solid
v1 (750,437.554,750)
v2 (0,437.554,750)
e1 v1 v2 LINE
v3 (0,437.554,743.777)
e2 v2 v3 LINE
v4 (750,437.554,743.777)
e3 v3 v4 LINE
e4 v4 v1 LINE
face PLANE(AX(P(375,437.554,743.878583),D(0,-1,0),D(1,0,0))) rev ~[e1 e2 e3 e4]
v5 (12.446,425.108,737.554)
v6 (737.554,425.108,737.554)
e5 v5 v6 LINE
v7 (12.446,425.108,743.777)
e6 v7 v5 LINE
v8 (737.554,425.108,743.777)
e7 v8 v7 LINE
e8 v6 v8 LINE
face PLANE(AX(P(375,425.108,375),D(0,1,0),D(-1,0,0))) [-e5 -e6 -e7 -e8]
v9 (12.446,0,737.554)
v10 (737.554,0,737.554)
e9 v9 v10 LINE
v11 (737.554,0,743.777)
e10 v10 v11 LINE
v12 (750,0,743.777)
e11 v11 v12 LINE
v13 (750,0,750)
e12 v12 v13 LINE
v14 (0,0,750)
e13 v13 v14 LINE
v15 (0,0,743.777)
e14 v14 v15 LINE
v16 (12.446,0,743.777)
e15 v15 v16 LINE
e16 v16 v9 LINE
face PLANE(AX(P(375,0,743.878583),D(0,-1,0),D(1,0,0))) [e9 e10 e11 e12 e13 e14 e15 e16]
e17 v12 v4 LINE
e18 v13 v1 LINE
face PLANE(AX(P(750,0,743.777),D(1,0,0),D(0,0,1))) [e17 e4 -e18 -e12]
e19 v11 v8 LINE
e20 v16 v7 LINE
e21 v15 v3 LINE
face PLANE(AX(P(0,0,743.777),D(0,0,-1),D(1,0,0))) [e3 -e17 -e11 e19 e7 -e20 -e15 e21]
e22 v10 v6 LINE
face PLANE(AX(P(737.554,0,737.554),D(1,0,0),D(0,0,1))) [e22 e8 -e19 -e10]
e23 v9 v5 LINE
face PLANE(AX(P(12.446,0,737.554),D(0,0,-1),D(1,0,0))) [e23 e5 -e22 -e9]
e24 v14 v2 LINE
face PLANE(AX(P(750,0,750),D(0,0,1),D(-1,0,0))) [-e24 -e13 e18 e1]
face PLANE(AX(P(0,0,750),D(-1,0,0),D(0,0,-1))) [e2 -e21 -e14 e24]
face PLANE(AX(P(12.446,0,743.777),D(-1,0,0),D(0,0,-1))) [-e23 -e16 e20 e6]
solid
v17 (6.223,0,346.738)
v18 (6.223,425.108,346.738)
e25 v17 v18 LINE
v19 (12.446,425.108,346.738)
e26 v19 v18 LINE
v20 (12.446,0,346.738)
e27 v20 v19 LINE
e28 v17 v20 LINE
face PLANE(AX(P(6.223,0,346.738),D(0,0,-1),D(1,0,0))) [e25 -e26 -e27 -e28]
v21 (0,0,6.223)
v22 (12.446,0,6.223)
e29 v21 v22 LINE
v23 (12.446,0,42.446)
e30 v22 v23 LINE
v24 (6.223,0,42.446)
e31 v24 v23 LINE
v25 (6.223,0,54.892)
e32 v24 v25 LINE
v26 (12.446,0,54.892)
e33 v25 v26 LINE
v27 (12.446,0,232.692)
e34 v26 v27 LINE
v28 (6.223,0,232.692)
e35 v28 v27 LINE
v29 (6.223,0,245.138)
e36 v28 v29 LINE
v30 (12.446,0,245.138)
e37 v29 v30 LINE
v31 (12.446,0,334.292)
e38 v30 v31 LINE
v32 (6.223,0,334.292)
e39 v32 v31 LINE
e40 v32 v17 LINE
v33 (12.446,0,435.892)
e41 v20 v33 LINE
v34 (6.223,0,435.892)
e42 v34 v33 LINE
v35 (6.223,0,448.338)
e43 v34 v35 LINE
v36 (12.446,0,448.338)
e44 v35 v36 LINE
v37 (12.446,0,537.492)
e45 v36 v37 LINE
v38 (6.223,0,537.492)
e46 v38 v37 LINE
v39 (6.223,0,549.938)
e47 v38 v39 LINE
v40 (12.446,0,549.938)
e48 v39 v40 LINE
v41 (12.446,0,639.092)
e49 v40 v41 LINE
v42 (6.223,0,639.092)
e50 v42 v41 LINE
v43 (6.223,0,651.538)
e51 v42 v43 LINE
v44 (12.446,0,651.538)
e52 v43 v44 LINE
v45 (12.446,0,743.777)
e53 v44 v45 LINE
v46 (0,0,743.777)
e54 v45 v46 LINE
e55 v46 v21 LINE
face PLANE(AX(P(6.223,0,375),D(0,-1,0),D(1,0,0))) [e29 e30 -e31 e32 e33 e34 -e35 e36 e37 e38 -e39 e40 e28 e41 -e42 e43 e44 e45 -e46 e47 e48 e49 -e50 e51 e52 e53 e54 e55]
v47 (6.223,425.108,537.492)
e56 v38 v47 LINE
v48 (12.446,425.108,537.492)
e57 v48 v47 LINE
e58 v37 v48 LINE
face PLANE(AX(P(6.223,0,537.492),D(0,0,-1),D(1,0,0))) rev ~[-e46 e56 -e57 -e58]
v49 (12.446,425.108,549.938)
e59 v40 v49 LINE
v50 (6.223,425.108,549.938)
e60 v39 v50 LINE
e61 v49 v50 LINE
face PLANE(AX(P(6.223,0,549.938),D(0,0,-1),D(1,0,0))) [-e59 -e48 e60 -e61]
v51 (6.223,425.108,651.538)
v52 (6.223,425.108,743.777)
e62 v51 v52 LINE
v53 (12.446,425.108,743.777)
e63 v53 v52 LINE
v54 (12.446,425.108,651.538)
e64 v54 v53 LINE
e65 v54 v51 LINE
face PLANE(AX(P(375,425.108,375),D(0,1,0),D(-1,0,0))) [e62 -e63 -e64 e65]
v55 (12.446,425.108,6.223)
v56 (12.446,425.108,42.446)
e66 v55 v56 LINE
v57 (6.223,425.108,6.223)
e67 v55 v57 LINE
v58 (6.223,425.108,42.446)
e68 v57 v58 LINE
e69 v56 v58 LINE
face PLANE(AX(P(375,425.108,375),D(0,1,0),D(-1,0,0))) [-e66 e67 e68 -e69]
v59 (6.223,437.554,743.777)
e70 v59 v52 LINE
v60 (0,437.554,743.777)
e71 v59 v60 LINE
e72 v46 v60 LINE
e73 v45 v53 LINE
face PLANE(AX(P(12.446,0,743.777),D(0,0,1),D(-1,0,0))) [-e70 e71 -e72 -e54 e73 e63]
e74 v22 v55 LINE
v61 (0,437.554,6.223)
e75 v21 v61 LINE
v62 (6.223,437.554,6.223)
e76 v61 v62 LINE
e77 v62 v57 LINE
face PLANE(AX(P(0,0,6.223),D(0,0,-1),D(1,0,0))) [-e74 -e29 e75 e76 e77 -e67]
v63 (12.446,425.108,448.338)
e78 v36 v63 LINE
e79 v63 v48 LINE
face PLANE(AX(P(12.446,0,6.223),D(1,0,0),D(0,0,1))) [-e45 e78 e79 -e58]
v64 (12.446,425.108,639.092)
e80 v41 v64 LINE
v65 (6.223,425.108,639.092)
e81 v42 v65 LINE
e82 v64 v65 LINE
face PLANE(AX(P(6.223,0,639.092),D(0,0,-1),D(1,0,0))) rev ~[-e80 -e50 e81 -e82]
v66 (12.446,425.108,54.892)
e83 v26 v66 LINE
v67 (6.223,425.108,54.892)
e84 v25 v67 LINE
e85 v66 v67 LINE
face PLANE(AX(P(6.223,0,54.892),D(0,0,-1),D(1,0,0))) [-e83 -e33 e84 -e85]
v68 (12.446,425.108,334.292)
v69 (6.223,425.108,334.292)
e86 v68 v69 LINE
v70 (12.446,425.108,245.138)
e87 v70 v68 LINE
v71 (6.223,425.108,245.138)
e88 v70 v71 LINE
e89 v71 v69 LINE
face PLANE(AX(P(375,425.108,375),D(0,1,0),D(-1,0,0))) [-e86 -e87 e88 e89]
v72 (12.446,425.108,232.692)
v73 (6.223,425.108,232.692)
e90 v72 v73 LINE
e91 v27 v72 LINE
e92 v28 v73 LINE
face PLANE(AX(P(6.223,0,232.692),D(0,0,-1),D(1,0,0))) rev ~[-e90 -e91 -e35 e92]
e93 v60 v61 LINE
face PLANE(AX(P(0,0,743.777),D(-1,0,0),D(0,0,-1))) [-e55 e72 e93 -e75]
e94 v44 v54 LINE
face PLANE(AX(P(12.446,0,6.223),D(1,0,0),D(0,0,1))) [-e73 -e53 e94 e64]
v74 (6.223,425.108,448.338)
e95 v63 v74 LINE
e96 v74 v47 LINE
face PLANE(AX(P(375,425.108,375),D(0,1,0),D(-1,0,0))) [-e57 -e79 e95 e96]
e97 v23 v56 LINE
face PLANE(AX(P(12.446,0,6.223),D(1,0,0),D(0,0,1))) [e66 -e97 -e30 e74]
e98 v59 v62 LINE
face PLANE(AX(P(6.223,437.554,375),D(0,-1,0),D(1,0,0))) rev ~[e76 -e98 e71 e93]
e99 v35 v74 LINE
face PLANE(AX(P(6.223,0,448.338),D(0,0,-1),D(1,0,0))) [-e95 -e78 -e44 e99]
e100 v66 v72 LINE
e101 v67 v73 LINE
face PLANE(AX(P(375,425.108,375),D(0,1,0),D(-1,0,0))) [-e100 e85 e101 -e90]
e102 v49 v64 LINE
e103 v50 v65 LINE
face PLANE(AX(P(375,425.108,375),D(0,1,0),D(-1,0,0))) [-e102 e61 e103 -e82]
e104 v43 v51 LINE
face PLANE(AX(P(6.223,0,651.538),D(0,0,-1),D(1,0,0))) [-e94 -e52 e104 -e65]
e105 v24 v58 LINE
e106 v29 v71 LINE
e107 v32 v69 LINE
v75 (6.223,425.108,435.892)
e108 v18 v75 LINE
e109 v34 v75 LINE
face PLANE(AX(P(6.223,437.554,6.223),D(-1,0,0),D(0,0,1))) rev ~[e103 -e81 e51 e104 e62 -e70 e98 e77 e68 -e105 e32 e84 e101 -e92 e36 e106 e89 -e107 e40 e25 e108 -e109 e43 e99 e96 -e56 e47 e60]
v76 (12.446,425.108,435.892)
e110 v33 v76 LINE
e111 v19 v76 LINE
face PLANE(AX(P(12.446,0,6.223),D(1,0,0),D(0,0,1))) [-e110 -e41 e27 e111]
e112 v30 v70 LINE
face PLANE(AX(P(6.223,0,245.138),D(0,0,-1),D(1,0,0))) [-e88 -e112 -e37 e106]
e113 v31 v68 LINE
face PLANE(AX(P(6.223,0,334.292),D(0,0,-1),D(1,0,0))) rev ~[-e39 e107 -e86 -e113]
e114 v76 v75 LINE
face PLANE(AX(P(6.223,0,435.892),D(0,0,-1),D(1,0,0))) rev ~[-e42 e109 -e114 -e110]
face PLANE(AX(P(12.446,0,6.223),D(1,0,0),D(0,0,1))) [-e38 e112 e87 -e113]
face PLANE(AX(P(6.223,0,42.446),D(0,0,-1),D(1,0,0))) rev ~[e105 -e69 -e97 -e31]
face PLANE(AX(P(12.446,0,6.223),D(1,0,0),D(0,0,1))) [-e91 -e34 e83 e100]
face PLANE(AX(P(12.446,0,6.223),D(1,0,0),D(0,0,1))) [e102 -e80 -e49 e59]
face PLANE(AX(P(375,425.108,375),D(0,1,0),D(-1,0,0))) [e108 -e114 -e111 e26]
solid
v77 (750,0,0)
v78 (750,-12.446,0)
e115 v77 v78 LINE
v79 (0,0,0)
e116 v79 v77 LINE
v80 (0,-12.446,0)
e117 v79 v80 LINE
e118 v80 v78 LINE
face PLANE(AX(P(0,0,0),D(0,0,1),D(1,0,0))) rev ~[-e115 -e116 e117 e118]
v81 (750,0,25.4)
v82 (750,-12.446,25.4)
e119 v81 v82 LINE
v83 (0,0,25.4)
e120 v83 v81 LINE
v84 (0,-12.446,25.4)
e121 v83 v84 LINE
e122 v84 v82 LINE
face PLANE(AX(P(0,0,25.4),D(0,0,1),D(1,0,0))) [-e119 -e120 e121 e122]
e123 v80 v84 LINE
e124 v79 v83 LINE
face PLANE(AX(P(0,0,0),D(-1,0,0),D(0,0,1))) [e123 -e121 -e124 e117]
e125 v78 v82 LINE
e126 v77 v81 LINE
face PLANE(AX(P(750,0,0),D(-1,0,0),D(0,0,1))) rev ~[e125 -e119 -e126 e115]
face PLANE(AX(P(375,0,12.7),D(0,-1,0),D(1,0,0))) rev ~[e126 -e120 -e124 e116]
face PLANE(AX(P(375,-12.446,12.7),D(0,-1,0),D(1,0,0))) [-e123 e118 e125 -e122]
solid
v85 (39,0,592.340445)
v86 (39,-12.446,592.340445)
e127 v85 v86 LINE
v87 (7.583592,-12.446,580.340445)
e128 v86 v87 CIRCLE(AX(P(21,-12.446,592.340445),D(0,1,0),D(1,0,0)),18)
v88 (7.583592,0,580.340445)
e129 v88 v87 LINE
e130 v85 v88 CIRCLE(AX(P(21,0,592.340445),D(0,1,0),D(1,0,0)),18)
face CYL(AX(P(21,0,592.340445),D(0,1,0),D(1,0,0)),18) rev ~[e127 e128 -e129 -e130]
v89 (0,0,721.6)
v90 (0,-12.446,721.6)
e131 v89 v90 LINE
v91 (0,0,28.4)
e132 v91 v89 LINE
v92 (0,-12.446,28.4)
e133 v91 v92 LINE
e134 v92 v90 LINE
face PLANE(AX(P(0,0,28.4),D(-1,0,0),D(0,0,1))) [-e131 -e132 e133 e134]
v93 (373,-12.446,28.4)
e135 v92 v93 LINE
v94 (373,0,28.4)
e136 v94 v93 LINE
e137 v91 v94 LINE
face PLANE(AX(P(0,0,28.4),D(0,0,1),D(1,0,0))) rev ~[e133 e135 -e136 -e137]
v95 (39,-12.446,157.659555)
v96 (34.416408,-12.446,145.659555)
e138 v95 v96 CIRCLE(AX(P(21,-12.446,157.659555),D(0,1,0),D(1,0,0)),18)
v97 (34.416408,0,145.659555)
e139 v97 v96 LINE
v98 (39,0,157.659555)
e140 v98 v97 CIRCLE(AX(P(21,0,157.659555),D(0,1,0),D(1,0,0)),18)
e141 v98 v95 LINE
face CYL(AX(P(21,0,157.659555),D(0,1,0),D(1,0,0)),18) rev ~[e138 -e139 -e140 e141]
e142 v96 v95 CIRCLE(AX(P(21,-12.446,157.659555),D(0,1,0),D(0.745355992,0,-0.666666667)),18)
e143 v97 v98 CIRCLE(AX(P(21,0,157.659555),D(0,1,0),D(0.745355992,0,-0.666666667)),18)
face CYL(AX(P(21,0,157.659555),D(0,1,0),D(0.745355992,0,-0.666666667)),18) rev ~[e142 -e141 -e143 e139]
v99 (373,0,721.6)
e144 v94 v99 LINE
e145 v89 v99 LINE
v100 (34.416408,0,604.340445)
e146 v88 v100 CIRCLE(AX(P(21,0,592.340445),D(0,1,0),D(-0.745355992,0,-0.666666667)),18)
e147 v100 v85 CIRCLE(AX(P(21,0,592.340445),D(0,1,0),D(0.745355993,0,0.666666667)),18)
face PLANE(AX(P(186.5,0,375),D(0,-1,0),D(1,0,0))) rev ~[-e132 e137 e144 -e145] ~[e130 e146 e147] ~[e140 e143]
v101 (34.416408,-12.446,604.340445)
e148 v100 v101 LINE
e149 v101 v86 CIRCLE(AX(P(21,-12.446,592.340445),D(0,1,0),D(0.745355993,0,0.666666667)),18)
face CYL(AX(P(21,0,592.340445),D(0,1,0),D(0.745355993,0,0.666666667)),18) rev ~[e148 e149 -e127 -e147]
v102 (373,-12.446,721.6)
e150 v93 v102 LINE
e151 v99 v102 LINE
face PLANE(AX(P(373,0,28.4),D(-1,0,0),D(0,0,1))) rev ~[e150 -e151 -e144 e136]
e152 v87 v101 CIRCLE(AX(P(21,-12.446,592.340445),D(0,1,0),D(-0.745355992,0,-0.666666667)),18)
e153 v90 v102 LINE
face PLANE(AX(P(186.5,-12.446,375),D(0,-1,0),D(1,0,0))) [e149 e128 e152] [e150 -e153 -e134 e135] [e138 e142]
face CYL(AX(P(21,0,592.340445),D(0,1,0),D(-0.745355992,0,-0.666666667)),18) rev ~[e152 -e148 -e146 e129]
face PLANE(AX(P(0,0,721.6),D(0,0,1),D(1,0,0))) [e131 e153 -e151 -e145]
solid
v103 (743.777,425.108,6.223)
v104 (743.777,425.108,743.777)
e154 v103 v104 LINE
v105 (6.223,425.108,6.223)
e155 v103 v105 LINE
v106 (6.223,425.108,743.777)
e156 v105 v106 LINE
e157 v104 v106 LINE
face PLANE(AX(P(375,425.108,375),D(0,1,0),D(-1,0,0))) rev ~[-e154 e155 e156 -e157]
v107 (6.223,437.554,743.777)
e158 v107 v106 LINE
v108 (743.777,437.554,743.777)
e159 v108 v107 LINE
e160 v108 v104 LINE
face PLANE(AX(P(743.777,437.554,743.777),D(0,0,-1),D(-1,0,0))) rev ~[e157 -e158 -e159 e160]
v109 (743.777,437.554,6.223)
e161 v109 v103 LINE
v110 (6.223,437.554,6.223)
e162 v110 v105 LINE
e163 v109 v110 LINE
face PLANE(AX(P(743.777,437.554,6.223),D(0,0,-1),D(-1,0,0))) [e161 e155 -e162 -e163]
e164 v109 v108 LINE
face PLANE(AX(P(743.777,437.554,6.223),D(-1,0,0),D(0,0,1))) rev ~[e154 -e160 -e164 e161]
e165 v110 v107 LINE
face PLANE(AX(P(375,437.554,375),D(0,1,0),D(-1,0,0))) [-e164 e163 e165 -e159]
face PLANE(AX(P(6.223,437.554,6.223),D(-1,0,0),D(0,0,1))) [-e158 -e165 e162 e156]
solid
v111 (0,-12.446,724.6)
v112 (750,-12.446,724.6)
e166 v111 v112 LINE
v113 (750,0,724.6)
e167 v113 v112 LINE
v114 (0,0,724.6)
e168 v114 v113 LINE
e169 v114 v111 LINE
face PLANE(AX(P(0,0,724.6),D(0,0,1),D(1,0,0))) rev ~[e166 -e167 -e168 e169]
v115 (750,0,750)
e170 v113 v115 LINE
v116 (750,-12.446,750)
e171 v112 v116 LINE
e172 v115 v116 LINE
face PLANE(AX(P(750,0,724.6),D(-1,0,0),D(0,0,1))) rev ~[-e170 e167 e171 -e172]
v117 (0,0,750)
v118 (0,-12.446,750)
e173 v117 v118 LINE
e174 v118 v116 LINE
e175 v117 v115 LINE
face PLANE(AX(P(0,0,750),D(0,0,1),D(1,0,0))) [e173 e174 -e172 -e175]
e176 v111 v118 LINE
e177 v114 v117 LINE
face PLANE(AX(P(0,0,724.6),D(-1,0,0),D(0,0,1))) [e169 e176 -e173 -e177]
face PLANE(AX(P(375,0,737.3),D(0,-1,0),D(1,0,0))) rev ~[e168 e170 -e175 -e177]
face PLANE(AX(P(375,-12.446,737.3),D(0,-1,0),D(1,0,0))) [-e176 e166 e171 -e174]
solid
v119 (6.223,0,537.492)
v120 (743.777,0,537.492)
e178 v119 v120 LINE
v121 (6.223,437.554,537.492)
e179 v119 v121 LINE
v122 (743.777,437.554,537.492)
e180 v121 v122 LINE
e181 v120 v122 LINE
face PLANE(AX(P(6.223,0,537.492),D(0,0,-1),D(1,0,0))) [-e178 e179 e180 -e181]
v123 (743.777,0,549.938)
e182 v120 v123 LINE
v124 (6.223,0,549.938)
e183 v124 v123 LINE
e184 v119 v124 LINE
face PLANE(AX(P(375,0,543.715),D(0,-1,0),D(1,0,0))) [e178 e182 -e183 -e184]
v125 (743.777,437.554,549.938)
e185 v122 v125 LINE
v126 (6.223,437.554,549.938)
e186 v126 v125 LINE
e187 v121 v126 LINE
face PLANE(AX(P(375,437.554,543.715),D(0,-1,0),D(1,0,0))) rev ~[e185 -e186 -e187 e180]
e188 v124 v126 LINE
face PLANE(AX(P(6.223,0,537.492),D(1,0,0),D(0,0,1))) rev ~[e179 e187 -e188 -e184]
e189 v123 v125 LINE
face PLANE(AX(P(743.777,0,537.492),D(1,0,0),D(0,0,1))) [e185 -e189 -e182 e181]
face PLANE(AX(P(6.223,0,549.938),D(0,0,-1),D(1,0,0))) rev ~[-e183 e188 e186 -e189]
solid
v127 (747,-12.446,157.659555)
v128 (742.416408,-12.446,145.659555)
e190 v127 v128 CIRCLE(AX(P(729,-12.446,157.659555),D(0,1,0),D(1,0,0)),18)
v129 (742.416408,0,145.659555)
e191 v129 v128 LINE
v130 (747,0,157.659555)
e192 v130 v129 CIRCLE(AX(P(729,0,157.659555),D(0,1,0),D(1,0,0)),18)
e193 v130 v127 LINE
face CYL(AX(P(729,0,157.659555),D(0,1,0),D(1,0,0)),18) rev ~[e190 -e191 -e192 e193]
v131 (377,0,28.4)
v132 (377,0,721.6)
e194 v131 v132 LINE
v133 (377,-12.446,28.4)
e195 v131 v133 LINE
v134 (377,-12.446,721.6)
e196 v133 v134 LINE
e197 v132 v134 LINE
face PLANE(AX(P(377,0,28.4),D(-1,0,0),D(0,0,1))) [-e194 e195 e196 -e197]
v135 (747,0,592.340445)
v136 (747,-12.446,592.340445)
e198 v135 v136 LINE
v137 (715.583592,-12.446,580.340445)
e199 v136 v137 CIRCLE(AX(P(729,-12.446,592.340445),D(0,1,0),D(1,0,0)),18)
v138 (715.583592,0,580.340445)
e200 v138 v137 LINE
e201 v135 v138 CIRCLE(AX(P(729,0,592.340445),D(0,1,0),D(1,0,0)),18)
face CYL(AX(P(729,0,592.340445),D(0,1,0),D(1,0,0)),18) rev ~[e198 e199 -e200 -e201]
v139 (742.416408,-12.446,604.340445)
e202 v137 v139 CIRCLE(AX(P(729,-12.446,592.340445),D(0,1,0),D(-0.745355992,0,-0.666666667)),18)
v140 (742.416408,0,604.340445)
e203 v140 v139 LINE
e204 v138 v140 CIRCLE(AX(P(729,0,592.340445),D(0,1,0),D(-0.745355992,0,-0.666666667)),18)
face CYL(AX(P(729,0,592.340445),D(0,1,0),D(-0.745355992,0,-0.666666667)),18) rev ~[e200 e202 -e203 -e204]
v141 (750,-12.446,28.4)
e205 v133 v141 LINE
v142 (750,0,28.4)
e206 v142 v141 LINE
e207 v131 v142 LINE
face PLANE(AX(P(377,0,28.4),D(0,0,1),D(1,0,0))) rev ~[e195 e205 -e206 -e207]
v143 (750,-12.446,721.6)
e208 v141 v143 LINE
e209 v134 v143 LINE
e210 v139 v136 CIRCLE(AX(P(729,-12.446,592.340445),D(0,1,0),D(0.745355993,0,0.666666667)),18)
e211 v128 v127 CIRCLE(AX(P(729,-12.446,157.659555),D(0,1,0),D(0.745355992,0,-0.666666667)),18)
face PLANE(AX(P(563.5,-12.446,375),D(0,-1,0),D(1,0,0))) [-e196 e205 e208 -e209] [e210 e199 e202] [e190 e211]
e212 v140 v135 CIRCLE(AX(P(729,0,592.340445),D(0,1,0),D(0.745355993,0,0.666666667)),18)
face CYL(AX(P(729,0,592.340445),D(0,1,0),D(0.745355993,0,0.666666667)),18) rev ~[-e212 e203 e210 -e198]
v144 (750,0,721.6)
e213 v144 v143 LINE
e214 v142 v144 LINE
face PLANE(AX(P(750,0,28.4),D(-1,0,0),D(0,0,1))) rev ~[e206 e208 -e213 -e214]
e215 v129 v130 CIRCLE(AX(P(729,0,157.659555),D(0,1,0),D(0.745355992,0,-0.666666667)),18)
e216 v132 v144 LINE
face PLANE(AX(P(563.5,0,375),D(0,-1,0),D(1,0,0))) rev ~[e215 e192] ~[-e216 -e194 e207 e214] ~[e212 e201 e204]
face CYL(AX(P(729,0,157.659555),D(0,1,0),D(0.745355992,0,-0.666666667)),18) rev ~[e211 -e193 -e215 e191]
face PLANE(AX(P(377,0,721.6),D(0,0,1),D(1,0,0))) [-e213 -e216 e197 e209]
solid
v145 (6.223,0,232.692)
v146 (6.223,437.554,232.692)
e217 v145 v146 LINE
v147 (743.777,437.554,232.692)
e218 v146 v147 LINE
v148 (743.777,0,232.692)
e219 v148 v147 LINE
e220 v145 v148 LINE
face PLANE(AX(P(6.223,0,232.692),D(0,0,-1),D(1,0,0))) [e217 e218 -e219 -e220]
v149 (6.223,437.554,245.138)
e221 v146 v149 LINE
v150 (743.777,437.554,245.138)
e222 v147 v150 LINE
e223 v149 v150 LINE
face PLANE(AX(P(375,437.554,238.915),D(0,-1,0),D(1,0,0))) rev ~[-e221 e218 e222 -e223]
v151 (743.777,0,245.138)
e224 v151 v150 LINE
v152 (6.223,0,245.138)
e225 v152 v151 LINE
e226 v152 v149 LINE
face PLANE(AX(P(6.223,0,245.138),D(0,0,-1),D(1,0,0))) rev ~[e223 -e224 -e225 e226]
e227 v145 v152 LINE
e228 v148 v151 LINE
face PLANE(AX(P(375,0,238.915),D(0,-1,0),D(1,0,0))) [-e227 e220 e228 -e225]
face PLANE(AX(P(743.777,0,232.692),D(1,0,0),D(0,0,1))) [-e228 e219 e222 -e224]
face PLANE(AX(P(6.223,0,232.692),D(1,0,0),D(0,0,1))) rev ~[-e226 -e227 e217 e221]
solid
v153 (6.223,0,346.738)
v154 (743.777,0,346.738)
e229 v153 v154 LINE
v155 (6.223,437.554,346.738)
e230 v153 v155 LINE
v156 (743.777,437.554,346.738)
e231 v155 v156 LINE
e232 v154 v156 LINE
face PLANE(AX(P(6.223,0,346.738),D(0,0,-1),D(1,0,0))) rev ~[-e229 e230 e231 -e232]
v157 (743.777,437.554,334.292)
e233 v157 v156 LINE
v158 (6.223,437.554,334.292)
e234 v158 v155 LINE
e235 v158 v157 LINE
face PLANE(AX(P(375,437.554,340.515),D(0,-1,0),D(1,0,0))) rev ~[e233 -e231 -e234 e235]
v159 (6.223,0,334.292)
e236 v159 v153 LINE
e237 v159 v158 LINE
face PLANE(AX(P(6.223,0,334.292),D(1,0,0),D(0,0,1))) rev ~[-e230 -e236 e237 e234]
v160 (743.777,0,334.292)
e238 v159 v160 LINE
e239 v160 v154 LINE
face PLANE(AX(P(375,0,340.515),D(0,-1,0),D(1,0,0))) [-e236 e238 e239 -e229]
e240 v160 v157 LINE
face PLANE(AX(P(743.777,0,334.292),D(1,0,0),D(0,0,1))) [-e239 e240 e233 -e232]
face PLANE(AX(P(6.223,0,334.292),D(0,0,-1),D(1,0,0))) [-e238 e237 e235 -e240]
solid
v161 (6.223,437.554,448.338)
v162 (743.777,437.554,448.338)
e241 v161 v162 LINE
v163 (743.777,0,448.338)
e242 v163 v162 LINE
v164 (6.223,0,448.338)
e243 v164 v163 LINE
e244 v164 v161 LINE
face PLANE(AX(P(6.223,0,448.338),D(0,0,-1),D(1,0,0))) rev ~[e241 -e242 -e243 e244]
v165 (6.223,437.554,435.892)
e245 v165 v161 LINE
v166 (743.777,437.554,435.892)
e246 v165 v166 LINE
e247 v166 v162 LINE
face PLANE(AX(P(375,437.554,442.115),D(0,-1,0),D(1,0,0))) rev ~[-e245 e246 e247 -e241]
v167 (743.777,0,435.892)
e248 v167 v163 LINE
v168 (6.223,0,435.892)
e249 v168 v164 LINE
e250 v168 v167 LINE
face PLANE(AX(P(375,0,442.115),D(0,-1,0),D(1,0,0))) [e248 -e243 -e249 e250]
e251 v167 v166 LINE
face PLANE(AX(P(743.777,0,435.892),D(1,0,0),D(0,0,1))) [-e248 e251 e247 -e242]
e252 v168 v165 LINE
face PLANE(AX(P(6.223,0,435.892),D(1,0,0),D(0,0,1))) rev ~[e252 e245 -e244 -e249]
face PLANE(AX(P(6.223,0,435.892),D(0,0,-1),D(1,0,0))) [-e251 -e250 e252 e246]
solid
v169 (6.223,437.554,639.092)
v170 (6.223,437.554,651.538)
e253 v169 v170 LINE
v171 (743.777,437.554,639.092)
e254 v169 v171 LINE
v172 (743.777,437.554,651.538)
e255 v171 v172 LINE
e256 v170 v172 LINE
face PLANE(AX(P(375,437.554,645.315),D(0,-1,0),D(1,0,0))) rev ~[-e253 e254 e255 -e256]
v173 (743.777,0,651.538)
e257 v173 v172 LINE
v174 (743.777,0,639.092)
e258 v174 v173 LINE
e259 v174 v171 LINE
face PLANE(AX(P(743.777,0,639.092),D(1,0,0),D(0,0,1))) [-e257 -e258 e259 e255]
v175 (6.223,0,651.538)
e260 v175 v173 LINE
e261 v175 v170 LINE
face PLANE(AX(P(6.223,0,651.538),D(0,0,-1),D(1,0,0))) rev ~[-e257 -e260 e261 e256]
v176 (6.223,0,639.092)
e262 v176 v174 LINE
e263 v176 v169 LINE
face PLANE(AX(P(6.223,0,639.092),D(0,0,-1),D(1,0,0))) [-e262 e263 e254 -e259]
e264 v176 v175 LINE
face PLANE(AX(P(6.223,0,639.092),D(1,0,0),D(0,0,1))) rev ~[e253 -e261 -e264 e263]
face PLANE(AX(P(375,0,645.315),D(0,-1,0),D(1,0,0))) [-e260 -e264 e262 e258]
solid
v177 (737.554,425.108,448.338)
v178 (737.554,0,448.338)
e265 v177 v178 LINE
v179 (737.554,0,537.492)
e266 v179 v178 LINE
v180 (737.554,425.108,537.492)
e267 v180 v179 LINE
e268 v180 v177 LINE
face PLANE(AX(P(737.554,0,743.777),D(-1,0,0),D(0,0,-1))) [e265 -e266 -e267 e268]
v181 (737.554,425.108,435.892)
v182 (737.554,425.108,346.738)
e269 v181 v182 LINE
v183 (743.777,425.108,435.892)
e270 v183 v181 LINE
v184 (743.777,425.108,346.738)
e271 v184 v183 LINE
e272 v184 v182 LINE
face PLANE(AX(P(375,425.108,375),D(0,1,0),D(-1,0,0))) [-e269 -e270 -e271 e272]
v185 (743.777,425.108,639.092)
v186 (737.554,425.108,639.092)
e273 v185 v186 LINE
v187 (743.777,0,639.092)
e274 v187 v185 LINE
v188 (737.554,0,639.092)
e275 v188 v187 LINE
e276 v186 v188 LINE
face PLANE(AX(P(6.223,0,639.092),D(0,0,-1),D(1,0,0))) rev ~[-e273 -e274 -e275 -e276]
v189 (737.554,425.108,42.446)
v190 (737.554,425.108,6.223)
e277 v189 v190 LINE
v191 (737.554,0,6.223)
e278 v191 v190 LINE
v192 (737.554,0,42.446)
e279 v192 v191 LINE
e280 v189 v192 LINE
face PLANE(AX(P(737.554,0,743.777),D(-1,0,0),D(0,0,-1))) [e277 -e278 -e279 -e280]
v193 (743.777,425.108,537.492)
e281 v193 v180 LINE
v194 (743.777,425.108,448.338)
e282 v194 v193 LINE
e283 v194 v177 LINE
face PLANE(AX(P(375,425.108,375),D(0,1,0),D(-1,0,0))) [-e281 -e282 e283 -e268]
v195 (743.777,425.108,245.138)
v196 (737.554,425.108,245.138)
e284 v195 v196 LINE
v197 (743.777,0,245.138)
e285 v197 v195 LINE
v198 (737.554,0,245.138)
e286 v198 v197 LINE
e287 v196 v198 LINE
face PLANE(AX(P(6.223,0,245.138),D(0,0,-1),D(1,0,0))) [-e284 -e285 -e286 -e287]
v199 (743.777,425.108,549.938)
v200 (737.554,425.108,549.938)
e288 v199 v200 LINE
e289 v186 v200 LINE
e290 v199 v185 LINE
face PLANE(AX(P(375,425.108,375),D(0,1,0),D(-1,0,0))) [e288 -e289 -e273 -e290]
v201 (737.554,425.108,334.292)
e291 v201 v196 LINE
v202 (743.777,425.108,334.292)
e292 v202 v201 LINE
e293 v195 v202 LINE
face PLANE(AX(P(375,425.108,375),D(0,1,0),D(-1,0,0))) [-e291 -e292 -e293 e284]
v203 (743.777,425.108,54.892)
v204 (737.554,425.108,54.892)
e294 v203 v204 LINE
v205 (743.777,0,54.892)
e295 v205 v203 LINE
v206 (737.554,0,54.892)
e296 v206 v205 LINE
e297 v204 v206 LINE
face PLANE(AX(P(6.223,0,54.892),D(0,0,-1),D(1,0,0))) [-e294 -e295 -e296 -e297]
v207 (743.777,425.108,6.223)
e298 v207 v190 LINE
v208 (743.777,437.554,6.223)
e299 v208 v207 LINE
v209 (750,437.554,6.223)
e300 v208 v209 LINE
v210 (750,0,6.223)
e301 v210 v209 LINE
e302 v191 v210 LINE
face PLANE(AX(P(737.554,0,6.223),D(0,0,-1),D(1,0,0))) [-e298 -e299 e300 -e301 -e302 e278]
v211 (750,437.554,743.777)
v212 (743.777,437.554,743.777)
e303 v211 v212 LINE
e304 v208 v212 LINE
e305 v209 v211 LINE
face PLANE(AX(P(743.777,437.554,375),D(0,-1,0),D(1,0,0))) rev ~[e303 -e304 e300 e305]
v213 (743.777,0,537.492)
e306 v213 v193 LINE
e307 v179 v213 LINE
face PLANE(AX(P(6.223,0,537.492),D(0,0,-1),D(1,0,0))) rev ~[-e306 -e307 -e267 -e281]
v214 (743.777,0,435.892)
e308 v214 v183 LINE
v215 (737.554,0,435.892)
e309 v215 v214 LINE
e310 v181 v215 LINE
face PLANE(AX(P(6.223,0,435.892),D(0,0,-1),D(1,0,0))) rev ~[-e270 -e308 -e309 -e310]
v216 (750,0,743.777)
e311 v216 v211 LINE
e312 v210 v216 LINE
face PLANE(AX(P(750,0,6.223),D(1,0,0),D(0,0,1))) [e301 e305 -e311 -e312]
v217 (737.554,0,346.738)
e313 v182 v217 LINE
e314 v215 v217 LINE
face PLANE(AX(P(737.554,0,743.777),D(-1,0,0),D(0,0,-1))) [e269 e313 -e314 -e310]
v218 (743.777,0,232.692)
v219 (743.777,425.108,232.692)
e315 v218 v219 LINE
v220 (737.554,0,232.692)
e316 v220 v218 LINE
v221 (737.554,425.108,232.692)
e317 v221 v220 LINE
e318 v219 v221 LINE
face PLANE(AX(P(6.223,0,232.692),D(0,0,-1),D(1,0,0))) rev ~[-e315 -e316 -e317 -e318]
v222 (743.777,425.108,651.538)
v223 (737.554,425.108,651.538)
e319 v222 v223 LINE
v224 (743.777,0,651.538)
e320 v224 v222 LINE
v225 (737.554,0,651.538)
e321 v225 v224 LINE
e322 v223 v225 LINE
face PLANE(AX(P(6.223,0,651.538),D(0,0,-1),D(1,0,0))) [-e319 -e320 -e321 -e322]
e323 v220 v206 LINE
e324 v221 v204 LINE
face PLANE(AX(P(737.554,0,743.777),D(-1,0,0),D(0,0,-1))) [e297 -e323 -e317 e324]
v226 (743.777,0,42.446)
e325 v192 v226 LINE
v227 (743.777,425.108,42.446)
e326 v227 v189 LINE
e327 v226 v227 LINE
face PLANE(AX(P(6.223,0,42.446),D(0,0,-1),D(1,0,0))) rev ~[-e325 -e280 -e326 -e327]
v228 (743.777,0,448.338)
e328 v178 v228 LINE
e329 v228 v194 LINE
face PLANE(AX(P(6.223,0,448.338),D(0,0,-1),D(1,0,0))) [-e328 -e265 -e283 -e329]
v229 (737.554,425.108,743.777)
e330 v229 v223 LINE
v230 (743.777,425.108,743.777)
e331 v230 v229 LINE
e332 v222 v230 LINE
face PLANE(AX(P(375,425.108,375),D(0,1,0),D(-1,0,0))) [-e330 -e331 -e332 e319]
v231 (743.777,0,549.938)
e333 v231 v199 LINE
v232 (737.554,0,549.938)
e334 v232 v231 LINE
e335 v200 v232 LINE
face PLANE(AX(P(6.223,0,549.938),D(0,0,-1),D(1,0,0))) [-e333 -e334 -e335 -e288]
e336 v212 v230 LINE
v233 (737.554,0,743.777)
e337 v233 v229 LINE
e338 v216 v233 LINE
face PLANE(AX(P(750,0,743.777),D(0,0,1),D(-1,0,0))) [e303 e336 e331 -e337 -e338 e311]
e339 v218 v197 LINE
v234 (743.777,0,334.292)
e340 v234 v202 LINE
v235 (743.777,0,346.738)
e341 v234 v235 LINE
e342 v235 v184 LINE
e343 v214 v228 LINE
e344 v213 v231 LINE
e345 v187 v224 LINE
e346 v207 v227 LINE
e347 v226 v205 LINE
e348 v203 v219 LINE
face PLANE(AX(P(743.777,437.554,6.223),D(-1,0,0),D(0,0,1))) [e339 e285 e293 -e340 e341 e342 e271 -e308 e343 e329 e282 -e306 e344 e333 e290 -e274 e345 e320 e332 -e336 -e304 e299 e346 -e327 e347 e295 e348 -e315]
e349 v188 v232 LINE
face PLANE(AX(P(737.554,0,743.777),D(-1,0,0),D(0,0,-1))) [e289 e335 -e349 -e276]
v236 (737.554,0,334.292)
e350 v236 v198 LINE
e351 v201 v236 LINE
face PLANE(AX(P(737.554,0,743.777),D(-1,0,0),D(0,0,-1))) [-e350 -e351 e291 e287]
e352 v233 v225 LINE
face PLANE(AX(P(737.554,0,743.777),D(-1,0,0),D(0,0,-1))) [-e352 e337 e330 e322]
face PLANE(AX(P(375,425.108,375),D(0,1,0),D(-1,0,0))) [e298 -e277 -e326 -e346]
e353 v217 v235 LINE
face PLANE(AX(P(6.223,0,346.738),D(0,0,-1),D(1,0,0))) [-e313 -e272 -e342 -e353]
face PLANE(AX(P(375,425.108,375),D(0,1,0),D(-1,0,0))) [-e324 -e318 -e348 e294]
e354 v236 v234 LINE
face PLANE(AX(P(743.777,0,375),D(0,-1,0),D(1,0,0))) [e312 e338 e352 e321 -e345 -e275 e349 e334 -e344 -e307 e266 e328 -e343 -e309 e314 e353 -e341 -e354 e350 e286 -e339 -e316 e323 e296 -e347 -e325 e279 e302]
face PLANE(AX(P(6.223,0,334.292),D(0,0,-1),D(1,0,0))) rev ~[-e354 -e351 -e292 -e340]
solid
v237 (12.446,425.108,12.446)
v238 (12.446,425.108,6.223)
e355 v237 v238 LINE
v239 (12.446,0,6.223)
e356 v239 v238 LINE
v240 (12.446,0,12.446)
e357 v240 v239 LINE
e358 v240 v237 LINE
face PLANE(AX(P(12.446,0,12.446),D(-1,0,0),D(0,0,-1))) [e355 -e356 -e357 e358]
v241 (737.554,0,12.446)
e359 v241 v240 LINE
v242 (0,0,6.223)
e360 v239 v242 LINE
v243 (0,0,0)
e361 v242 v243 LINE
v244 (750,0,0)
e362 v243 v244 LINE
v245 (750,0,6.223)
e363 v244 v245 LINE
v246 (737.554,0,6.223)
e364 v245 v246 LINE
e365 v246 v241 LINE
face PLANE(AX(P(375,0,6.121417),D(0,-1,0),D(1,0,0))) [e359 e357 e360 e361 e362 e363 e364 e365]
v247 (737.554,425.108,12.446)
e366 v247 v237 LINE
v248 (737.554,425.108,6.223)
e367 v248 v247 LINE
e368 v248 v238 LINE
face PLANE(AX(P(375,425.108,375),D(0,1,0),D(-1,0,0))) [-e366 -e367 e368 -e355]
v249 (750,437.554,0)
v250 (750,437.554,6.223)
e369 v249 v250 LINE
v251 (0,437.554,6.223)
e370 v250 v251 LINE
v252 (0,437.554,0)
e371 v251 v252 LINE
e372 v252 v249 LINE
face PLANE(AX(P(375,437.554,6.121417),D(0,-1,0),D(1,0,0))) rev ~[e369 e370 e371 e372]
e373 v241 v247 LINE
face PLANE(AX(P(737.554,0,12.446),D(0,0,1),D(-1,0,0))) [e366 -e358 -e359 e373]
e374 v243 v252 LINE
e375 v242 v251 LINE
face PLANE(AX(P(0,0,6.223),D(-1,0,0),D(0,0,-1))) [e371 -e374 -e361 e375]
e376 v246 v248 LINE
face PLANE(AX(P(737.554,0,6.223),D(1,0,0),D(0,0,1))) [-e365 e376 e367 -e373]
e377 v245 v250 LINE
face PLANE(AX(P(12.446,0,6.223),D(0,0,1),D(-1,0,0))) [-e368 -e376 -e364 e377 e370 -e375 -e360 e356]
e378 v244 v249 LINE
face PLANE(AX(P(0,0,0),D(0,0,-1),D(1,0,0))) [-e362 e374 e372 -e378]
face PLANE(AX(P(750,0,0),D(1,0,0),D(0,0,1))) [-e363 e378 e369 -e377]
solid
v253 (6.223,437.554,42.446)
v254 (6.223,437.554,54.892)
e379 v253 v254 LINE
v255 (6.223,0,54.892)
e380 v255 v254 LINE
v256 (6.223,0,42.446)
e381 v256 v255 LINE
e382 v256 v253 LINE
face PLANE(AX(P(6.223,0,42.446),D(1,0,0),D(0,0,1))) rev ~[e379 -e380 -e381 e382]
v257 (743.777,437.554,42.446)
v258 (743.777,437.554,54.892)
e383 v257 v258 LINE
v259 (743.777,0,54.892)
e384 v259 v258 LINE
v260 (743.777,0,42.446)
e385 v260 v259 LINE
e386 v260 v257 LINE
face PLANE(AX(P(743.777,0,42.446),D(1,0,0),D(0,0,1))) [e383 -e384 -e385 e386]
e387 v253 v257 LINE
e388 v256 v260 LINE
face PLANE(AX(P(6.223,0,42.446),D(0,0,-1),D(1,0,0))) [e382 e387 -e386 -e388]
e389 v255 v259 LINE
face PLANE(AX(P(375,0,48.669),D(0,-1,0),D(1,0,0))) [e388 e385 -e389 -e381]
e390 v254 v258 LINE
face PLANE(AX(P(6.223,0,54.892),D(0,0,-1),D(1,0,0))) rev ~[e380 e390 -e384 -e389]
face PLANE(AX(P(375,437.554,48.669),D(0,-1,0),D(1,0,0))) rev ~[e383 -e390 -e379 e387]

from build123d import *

# Parameters (mm, degrees)
F8_DEPTH  = 437.554
F9_DEPTH  = 437.554
F10_W     = 737.554
F10_H     = 737.554
F11_DEPTH = 12.446
F6_W      = 737.554
F6_H      = 12.446
F13_DEPTH = 437.554
F7_W      = 750
F7_H      = 25.4
F15_DEPTH = 12.446
F7_W_2    = 373
F7_H_2    = 693.2


with BuildPart() as f8:
    # F5 (on Front) → F8 (new body)
    with BuildSketch(Plane.XZ):
        Polygon((0, 750), (0, 743.777), (12.446, 743.777), (12.446, 737.554), (737.554, 737.554), (737.554, 743.777), (750, 743.777), (750, 750), align=None)
    extrude(amount=-F8_DEPTH)


with BuildPart() as f8b:
    # F5 (on Front) → F8, piece 2 (new body)
    with BuildSketch(Plane.XZ):
        Polygon((0, 6.223), (0, 0), (750, 0), (750, 6.223), (737.554, 6.223), (737.554, 12.446), (12.446, 12.446), (12.446, 6.223), align=None)
    extrude(amount=-F8_DEPTH)


with BuildPart() as f9:
    # F5 (on Front) → F9 (new body, through all)
    with BuildSketch(Plane.XZ):
        Polygon((0, 743.777), (0, 6.223), (12.446, 6.223), (12.446, 12.446), (12.446, 737.554), (12.446, 743.777), align=None)
    extrude(amount=-F9_DEPTH)


with BuildPart() as f9b:
    # F5 (on Front) → F9, piece 2 (new body, through all)
    with BuildSketch(Plane.XZ):
        Polygon((737.554, 6.223), (750, 6.223), (750, 743.777), (737.554, 743.777), (737.554, 737.554), (737.554, 12.446), align=None)
    extrude(amount=-F9_DEPTH)


with BuildPart() as f11:
    # F10 (on face) → F11 (new body)
    with BuildSketch(Plane(origin=(0, 437.554, 0), x_dir=(-1, 0, 0), z_dir=(0, 1, 0))):
        with Locations((-375, 375)):
            Rectangle(F10_W, F10_H)
    extrude(amount=-F11_DEPTH)


with BuildPart() as f8_1:
    add(f8.part)

    # F12: cut F11
    add(f11.part, mode=Mode.SUBTRACT)


with BuildPart() as f9b_1:
    add(f9b.part)

    # F12: cut F11
    add(f11.part, mode=Mode.SUBTRACT)


with BuildPart() as f9_1:
    add(f9.part)

    # F12: cut F11
    add(f11.part, mode=Mode.SUBTRACT)


with BuildPart() as f8b_1:
    add(f8b.part)

    # F12: cut F11
    add(f11.part, mode=Mode.SUBTRACT)


with BuildPart() as f13:
    # F6 (on Front) → F13 (new body)
    with BuildSketch(Plane.XZ):
        with Locations((375, 48.669)):
            Rectangle(F6_W, F6_H)
    extrude(amount=-F13_DEPTH)


with BuildPart() as f13b:
    # F6 (on Front) → F13, piece 2 (new body)
    with BuildSketch(Plane.XZ):
        with Locations((375, 238.915)):
            Rectangle(F6_W, F6_H)
    extrude(amount=-F13_DEPTH)


with BuildPart() as f13c:
    # F6 (on Front) → F13, piece 3 (new body)
    with BuildSketch(Plane.XZ):
        with Locations((375, 340.515)):
            Rectangle(F6_W, F6_H)
    extrude(amount=-F13_DEPTH)


with BuildPart() as f13d:
    # F6 (on Front) → F13, piece 4 (new body)
    with BuildSketch(Plane.XZ):
        with Locations((375, 442.115)):
            Rectangle(F6_W, F6_H)
    extrude(amount=-F13_DEPTH)


with BuildPart() as f13e:
    # F6 (on Front) → F13, piece 5 (new body)
    with BuildSketch(Plane.XZ):
        with Locations((375, 543.715)):
            Rectangle(F6_W, F6_H)
    extrude(amount=-F13_DEPTH)


with BuildPart() as f13f:
    # F6 (on Front) → F13, piece 6 (new body)
    with BuildSketch(Plane.XZ):
        with Locations((375, 645.315)):
            Rectangle(F6_W, F6_H)
    extrude(amount=-F13_DEPTH)


with BuildPart() as f9_2:
    add(f9_1.part)

    # F14: cut F13f, F13e, F13d, F13c, F13b, F13
    add(f13f.part, mode=Mode.SUBTRACT)
    add(f13e.part, mode=Mode.SUBTRACT)
    add(f13d.part, mode=Mode.SUBTRACT)
    add(f13c.part, mode=Mode.SUBTRACT)
    add(f13b.part, mode=Mode.SUBTRACT)
    add(f13.part, mode=Mode.SUBTRACT)


with BuildPart() as f9b_2:
    add(f9b_1.part)

    # F14: cut F13f, F13e, F13d, F13c, F13b, F13
    add(f13f.part, mode=Mode.SUBTRACT)
    add(f13e.part, mode=Mode.SUBTRACT)
    add(f13d.part, mode=Mode.SUBTRACT)
    add(f13c.part, mode=Mode.SUBTRACT)
    add(f13b.part, mode=Mode.SUBTRACT)
    add(f13.part, mode=Mode.SUBTRACT)


with BuildPart() as f15:
    # F7 (on Front) → F15 (new body)
    with BuildSketch(Plane.XZ):
        with Locations((375, 12.7)):
            Rectangle(F7_W, F7_H)
    extrude(amount=F15_DEPTH)


with BuildPart() as f15b:
    # F7 (on Front) → F15, piece 2 (new body)
    with BuildSketch(Plane.XZ):
        with Locations((375, 737.3)):
            Rectangle(F7_W, F7_H)
    extrude(amount=F15_DEPTH)


with BuildPart() as f15c:
    # F7 (on Front) → F15, piece 3 (new body)
    with BuildSketch(Plane.XZ):
        with Locations((186.5, 375)):
            Rectangle(F7_W_2, F7_H_2)
        with BuildLine():
            ThreePointArc((34.416407865, 169.6595549583), (37.8151024613, 164.0823525743), (39, 157.6595549583))
            ThreePointArc((39, 157.6595549583), (37.8151024613, 151.2367573424), (34.416407865, 145.6595549583))
            ThreePointArc((34.416407865, 145.6595549583), (21, 139.6595549583), (7.583592135, 145.6595549583))
            ThreePointArc((7.583592135, 145.6595549583), (3, 157.6595549583), (7.583592135, 169.6595549583))
            ThreePointArc((7.583592135, 169.6595549583), (21, 175.6595549583), (34.416407865, 169.6595549583))
        make_face(mode=Mode.SUBTRACT)
        with BuildLine():
            ThreePointArc((39, 592.3404450417), (37.8151024613, 585.9176474257), (34.416407865, 580.3404450417))
            ThreePointArc((34.416407865, 580.3404450417), (21, 574.3404450417), (7.583592135, 580.3404450417))
            ThreePointArc((7.583592135, 580.3404450417), (3, 592.3404450417), (7.583592135, 604.3404450417))
            ThreePointArc((7.583592135, 604.3404450417), (21, 610.3404450417), (34.416407865, 604.3404450417))
            ThreePointArc((34.416407865, 604.3404450417), (37.8151024613, 598.7632426576), (39, 592.3404450417))
        make_face(mode=Mode.SUBTRACT)
    extrude(amount=F15_DEPTH)


with BuildPart() as f15d:
    # F7 (on Front) → F15, piece 4 (new body)
    with BuildSketch(Plane.XZ):
        with Locations((563.5, 375)):
            Rectangle(F7_W_2, F7_H_2)
        with BuildLine():
            ThreePointArc((742.416407865, 169.6595549583), (745.8151024613, 164.0823525743), (747, 157.6595549583))
            ThreePointArc((747, 157.6595549583), (745.8151024613, 151.2367573424), (742.416407865, 145.6595549583))
            ThreePointArc((742.416407865, 145.6595549583), (729, 139.6595549583), (715.583592135, 145.6595549583))
            ThreePointArc((715.583592135, 145.6595549583), (711, 157.6595549583), (715.583592135, 169.6595549583))
            ThreePointArc((715.583592135, 169.6595549583), (729, 175.6595549583), (742.416407865, 169.6595549583))
        make_face(mode=Mode.SUBTRACT)
        with BuildLine():
            ThreePointArc((715.583592135, 604.3404450417), (729, 610.3404450417), (742.416407865, 604.3404450417))
            ThreePointArc((742.416407865, 604.3404450417), (745.8151024613, 598.7632426576), (747, 592.3404450417))
            ThreePointArc((747, 592.3404450417), (745.8151024613, 585.9176474257), (742.416407865, 580.3404450417))
            ThreePointArc((742.416407865, 580.3404450417), (729, 574.3404450417), (715.583592135, 580.3404450417))
            ThreePointArc((715.583592135, 580.3404450417), (711, 592.3404450417), (715.583592135, 604.3404450417))
        make_face(mode=Mode.SUBTRACT)
    extrude(amount=F15_DEPTH)


solid = Compound([f11.part, f8_1.part, f8b_1.part, f13.part, f13b.part, f13c.part, f13d.part, f13e.part, f13f.part, f9_2.part, f9b_2.part, f15.part, f15b.part, f15c.part, f15d.part])
